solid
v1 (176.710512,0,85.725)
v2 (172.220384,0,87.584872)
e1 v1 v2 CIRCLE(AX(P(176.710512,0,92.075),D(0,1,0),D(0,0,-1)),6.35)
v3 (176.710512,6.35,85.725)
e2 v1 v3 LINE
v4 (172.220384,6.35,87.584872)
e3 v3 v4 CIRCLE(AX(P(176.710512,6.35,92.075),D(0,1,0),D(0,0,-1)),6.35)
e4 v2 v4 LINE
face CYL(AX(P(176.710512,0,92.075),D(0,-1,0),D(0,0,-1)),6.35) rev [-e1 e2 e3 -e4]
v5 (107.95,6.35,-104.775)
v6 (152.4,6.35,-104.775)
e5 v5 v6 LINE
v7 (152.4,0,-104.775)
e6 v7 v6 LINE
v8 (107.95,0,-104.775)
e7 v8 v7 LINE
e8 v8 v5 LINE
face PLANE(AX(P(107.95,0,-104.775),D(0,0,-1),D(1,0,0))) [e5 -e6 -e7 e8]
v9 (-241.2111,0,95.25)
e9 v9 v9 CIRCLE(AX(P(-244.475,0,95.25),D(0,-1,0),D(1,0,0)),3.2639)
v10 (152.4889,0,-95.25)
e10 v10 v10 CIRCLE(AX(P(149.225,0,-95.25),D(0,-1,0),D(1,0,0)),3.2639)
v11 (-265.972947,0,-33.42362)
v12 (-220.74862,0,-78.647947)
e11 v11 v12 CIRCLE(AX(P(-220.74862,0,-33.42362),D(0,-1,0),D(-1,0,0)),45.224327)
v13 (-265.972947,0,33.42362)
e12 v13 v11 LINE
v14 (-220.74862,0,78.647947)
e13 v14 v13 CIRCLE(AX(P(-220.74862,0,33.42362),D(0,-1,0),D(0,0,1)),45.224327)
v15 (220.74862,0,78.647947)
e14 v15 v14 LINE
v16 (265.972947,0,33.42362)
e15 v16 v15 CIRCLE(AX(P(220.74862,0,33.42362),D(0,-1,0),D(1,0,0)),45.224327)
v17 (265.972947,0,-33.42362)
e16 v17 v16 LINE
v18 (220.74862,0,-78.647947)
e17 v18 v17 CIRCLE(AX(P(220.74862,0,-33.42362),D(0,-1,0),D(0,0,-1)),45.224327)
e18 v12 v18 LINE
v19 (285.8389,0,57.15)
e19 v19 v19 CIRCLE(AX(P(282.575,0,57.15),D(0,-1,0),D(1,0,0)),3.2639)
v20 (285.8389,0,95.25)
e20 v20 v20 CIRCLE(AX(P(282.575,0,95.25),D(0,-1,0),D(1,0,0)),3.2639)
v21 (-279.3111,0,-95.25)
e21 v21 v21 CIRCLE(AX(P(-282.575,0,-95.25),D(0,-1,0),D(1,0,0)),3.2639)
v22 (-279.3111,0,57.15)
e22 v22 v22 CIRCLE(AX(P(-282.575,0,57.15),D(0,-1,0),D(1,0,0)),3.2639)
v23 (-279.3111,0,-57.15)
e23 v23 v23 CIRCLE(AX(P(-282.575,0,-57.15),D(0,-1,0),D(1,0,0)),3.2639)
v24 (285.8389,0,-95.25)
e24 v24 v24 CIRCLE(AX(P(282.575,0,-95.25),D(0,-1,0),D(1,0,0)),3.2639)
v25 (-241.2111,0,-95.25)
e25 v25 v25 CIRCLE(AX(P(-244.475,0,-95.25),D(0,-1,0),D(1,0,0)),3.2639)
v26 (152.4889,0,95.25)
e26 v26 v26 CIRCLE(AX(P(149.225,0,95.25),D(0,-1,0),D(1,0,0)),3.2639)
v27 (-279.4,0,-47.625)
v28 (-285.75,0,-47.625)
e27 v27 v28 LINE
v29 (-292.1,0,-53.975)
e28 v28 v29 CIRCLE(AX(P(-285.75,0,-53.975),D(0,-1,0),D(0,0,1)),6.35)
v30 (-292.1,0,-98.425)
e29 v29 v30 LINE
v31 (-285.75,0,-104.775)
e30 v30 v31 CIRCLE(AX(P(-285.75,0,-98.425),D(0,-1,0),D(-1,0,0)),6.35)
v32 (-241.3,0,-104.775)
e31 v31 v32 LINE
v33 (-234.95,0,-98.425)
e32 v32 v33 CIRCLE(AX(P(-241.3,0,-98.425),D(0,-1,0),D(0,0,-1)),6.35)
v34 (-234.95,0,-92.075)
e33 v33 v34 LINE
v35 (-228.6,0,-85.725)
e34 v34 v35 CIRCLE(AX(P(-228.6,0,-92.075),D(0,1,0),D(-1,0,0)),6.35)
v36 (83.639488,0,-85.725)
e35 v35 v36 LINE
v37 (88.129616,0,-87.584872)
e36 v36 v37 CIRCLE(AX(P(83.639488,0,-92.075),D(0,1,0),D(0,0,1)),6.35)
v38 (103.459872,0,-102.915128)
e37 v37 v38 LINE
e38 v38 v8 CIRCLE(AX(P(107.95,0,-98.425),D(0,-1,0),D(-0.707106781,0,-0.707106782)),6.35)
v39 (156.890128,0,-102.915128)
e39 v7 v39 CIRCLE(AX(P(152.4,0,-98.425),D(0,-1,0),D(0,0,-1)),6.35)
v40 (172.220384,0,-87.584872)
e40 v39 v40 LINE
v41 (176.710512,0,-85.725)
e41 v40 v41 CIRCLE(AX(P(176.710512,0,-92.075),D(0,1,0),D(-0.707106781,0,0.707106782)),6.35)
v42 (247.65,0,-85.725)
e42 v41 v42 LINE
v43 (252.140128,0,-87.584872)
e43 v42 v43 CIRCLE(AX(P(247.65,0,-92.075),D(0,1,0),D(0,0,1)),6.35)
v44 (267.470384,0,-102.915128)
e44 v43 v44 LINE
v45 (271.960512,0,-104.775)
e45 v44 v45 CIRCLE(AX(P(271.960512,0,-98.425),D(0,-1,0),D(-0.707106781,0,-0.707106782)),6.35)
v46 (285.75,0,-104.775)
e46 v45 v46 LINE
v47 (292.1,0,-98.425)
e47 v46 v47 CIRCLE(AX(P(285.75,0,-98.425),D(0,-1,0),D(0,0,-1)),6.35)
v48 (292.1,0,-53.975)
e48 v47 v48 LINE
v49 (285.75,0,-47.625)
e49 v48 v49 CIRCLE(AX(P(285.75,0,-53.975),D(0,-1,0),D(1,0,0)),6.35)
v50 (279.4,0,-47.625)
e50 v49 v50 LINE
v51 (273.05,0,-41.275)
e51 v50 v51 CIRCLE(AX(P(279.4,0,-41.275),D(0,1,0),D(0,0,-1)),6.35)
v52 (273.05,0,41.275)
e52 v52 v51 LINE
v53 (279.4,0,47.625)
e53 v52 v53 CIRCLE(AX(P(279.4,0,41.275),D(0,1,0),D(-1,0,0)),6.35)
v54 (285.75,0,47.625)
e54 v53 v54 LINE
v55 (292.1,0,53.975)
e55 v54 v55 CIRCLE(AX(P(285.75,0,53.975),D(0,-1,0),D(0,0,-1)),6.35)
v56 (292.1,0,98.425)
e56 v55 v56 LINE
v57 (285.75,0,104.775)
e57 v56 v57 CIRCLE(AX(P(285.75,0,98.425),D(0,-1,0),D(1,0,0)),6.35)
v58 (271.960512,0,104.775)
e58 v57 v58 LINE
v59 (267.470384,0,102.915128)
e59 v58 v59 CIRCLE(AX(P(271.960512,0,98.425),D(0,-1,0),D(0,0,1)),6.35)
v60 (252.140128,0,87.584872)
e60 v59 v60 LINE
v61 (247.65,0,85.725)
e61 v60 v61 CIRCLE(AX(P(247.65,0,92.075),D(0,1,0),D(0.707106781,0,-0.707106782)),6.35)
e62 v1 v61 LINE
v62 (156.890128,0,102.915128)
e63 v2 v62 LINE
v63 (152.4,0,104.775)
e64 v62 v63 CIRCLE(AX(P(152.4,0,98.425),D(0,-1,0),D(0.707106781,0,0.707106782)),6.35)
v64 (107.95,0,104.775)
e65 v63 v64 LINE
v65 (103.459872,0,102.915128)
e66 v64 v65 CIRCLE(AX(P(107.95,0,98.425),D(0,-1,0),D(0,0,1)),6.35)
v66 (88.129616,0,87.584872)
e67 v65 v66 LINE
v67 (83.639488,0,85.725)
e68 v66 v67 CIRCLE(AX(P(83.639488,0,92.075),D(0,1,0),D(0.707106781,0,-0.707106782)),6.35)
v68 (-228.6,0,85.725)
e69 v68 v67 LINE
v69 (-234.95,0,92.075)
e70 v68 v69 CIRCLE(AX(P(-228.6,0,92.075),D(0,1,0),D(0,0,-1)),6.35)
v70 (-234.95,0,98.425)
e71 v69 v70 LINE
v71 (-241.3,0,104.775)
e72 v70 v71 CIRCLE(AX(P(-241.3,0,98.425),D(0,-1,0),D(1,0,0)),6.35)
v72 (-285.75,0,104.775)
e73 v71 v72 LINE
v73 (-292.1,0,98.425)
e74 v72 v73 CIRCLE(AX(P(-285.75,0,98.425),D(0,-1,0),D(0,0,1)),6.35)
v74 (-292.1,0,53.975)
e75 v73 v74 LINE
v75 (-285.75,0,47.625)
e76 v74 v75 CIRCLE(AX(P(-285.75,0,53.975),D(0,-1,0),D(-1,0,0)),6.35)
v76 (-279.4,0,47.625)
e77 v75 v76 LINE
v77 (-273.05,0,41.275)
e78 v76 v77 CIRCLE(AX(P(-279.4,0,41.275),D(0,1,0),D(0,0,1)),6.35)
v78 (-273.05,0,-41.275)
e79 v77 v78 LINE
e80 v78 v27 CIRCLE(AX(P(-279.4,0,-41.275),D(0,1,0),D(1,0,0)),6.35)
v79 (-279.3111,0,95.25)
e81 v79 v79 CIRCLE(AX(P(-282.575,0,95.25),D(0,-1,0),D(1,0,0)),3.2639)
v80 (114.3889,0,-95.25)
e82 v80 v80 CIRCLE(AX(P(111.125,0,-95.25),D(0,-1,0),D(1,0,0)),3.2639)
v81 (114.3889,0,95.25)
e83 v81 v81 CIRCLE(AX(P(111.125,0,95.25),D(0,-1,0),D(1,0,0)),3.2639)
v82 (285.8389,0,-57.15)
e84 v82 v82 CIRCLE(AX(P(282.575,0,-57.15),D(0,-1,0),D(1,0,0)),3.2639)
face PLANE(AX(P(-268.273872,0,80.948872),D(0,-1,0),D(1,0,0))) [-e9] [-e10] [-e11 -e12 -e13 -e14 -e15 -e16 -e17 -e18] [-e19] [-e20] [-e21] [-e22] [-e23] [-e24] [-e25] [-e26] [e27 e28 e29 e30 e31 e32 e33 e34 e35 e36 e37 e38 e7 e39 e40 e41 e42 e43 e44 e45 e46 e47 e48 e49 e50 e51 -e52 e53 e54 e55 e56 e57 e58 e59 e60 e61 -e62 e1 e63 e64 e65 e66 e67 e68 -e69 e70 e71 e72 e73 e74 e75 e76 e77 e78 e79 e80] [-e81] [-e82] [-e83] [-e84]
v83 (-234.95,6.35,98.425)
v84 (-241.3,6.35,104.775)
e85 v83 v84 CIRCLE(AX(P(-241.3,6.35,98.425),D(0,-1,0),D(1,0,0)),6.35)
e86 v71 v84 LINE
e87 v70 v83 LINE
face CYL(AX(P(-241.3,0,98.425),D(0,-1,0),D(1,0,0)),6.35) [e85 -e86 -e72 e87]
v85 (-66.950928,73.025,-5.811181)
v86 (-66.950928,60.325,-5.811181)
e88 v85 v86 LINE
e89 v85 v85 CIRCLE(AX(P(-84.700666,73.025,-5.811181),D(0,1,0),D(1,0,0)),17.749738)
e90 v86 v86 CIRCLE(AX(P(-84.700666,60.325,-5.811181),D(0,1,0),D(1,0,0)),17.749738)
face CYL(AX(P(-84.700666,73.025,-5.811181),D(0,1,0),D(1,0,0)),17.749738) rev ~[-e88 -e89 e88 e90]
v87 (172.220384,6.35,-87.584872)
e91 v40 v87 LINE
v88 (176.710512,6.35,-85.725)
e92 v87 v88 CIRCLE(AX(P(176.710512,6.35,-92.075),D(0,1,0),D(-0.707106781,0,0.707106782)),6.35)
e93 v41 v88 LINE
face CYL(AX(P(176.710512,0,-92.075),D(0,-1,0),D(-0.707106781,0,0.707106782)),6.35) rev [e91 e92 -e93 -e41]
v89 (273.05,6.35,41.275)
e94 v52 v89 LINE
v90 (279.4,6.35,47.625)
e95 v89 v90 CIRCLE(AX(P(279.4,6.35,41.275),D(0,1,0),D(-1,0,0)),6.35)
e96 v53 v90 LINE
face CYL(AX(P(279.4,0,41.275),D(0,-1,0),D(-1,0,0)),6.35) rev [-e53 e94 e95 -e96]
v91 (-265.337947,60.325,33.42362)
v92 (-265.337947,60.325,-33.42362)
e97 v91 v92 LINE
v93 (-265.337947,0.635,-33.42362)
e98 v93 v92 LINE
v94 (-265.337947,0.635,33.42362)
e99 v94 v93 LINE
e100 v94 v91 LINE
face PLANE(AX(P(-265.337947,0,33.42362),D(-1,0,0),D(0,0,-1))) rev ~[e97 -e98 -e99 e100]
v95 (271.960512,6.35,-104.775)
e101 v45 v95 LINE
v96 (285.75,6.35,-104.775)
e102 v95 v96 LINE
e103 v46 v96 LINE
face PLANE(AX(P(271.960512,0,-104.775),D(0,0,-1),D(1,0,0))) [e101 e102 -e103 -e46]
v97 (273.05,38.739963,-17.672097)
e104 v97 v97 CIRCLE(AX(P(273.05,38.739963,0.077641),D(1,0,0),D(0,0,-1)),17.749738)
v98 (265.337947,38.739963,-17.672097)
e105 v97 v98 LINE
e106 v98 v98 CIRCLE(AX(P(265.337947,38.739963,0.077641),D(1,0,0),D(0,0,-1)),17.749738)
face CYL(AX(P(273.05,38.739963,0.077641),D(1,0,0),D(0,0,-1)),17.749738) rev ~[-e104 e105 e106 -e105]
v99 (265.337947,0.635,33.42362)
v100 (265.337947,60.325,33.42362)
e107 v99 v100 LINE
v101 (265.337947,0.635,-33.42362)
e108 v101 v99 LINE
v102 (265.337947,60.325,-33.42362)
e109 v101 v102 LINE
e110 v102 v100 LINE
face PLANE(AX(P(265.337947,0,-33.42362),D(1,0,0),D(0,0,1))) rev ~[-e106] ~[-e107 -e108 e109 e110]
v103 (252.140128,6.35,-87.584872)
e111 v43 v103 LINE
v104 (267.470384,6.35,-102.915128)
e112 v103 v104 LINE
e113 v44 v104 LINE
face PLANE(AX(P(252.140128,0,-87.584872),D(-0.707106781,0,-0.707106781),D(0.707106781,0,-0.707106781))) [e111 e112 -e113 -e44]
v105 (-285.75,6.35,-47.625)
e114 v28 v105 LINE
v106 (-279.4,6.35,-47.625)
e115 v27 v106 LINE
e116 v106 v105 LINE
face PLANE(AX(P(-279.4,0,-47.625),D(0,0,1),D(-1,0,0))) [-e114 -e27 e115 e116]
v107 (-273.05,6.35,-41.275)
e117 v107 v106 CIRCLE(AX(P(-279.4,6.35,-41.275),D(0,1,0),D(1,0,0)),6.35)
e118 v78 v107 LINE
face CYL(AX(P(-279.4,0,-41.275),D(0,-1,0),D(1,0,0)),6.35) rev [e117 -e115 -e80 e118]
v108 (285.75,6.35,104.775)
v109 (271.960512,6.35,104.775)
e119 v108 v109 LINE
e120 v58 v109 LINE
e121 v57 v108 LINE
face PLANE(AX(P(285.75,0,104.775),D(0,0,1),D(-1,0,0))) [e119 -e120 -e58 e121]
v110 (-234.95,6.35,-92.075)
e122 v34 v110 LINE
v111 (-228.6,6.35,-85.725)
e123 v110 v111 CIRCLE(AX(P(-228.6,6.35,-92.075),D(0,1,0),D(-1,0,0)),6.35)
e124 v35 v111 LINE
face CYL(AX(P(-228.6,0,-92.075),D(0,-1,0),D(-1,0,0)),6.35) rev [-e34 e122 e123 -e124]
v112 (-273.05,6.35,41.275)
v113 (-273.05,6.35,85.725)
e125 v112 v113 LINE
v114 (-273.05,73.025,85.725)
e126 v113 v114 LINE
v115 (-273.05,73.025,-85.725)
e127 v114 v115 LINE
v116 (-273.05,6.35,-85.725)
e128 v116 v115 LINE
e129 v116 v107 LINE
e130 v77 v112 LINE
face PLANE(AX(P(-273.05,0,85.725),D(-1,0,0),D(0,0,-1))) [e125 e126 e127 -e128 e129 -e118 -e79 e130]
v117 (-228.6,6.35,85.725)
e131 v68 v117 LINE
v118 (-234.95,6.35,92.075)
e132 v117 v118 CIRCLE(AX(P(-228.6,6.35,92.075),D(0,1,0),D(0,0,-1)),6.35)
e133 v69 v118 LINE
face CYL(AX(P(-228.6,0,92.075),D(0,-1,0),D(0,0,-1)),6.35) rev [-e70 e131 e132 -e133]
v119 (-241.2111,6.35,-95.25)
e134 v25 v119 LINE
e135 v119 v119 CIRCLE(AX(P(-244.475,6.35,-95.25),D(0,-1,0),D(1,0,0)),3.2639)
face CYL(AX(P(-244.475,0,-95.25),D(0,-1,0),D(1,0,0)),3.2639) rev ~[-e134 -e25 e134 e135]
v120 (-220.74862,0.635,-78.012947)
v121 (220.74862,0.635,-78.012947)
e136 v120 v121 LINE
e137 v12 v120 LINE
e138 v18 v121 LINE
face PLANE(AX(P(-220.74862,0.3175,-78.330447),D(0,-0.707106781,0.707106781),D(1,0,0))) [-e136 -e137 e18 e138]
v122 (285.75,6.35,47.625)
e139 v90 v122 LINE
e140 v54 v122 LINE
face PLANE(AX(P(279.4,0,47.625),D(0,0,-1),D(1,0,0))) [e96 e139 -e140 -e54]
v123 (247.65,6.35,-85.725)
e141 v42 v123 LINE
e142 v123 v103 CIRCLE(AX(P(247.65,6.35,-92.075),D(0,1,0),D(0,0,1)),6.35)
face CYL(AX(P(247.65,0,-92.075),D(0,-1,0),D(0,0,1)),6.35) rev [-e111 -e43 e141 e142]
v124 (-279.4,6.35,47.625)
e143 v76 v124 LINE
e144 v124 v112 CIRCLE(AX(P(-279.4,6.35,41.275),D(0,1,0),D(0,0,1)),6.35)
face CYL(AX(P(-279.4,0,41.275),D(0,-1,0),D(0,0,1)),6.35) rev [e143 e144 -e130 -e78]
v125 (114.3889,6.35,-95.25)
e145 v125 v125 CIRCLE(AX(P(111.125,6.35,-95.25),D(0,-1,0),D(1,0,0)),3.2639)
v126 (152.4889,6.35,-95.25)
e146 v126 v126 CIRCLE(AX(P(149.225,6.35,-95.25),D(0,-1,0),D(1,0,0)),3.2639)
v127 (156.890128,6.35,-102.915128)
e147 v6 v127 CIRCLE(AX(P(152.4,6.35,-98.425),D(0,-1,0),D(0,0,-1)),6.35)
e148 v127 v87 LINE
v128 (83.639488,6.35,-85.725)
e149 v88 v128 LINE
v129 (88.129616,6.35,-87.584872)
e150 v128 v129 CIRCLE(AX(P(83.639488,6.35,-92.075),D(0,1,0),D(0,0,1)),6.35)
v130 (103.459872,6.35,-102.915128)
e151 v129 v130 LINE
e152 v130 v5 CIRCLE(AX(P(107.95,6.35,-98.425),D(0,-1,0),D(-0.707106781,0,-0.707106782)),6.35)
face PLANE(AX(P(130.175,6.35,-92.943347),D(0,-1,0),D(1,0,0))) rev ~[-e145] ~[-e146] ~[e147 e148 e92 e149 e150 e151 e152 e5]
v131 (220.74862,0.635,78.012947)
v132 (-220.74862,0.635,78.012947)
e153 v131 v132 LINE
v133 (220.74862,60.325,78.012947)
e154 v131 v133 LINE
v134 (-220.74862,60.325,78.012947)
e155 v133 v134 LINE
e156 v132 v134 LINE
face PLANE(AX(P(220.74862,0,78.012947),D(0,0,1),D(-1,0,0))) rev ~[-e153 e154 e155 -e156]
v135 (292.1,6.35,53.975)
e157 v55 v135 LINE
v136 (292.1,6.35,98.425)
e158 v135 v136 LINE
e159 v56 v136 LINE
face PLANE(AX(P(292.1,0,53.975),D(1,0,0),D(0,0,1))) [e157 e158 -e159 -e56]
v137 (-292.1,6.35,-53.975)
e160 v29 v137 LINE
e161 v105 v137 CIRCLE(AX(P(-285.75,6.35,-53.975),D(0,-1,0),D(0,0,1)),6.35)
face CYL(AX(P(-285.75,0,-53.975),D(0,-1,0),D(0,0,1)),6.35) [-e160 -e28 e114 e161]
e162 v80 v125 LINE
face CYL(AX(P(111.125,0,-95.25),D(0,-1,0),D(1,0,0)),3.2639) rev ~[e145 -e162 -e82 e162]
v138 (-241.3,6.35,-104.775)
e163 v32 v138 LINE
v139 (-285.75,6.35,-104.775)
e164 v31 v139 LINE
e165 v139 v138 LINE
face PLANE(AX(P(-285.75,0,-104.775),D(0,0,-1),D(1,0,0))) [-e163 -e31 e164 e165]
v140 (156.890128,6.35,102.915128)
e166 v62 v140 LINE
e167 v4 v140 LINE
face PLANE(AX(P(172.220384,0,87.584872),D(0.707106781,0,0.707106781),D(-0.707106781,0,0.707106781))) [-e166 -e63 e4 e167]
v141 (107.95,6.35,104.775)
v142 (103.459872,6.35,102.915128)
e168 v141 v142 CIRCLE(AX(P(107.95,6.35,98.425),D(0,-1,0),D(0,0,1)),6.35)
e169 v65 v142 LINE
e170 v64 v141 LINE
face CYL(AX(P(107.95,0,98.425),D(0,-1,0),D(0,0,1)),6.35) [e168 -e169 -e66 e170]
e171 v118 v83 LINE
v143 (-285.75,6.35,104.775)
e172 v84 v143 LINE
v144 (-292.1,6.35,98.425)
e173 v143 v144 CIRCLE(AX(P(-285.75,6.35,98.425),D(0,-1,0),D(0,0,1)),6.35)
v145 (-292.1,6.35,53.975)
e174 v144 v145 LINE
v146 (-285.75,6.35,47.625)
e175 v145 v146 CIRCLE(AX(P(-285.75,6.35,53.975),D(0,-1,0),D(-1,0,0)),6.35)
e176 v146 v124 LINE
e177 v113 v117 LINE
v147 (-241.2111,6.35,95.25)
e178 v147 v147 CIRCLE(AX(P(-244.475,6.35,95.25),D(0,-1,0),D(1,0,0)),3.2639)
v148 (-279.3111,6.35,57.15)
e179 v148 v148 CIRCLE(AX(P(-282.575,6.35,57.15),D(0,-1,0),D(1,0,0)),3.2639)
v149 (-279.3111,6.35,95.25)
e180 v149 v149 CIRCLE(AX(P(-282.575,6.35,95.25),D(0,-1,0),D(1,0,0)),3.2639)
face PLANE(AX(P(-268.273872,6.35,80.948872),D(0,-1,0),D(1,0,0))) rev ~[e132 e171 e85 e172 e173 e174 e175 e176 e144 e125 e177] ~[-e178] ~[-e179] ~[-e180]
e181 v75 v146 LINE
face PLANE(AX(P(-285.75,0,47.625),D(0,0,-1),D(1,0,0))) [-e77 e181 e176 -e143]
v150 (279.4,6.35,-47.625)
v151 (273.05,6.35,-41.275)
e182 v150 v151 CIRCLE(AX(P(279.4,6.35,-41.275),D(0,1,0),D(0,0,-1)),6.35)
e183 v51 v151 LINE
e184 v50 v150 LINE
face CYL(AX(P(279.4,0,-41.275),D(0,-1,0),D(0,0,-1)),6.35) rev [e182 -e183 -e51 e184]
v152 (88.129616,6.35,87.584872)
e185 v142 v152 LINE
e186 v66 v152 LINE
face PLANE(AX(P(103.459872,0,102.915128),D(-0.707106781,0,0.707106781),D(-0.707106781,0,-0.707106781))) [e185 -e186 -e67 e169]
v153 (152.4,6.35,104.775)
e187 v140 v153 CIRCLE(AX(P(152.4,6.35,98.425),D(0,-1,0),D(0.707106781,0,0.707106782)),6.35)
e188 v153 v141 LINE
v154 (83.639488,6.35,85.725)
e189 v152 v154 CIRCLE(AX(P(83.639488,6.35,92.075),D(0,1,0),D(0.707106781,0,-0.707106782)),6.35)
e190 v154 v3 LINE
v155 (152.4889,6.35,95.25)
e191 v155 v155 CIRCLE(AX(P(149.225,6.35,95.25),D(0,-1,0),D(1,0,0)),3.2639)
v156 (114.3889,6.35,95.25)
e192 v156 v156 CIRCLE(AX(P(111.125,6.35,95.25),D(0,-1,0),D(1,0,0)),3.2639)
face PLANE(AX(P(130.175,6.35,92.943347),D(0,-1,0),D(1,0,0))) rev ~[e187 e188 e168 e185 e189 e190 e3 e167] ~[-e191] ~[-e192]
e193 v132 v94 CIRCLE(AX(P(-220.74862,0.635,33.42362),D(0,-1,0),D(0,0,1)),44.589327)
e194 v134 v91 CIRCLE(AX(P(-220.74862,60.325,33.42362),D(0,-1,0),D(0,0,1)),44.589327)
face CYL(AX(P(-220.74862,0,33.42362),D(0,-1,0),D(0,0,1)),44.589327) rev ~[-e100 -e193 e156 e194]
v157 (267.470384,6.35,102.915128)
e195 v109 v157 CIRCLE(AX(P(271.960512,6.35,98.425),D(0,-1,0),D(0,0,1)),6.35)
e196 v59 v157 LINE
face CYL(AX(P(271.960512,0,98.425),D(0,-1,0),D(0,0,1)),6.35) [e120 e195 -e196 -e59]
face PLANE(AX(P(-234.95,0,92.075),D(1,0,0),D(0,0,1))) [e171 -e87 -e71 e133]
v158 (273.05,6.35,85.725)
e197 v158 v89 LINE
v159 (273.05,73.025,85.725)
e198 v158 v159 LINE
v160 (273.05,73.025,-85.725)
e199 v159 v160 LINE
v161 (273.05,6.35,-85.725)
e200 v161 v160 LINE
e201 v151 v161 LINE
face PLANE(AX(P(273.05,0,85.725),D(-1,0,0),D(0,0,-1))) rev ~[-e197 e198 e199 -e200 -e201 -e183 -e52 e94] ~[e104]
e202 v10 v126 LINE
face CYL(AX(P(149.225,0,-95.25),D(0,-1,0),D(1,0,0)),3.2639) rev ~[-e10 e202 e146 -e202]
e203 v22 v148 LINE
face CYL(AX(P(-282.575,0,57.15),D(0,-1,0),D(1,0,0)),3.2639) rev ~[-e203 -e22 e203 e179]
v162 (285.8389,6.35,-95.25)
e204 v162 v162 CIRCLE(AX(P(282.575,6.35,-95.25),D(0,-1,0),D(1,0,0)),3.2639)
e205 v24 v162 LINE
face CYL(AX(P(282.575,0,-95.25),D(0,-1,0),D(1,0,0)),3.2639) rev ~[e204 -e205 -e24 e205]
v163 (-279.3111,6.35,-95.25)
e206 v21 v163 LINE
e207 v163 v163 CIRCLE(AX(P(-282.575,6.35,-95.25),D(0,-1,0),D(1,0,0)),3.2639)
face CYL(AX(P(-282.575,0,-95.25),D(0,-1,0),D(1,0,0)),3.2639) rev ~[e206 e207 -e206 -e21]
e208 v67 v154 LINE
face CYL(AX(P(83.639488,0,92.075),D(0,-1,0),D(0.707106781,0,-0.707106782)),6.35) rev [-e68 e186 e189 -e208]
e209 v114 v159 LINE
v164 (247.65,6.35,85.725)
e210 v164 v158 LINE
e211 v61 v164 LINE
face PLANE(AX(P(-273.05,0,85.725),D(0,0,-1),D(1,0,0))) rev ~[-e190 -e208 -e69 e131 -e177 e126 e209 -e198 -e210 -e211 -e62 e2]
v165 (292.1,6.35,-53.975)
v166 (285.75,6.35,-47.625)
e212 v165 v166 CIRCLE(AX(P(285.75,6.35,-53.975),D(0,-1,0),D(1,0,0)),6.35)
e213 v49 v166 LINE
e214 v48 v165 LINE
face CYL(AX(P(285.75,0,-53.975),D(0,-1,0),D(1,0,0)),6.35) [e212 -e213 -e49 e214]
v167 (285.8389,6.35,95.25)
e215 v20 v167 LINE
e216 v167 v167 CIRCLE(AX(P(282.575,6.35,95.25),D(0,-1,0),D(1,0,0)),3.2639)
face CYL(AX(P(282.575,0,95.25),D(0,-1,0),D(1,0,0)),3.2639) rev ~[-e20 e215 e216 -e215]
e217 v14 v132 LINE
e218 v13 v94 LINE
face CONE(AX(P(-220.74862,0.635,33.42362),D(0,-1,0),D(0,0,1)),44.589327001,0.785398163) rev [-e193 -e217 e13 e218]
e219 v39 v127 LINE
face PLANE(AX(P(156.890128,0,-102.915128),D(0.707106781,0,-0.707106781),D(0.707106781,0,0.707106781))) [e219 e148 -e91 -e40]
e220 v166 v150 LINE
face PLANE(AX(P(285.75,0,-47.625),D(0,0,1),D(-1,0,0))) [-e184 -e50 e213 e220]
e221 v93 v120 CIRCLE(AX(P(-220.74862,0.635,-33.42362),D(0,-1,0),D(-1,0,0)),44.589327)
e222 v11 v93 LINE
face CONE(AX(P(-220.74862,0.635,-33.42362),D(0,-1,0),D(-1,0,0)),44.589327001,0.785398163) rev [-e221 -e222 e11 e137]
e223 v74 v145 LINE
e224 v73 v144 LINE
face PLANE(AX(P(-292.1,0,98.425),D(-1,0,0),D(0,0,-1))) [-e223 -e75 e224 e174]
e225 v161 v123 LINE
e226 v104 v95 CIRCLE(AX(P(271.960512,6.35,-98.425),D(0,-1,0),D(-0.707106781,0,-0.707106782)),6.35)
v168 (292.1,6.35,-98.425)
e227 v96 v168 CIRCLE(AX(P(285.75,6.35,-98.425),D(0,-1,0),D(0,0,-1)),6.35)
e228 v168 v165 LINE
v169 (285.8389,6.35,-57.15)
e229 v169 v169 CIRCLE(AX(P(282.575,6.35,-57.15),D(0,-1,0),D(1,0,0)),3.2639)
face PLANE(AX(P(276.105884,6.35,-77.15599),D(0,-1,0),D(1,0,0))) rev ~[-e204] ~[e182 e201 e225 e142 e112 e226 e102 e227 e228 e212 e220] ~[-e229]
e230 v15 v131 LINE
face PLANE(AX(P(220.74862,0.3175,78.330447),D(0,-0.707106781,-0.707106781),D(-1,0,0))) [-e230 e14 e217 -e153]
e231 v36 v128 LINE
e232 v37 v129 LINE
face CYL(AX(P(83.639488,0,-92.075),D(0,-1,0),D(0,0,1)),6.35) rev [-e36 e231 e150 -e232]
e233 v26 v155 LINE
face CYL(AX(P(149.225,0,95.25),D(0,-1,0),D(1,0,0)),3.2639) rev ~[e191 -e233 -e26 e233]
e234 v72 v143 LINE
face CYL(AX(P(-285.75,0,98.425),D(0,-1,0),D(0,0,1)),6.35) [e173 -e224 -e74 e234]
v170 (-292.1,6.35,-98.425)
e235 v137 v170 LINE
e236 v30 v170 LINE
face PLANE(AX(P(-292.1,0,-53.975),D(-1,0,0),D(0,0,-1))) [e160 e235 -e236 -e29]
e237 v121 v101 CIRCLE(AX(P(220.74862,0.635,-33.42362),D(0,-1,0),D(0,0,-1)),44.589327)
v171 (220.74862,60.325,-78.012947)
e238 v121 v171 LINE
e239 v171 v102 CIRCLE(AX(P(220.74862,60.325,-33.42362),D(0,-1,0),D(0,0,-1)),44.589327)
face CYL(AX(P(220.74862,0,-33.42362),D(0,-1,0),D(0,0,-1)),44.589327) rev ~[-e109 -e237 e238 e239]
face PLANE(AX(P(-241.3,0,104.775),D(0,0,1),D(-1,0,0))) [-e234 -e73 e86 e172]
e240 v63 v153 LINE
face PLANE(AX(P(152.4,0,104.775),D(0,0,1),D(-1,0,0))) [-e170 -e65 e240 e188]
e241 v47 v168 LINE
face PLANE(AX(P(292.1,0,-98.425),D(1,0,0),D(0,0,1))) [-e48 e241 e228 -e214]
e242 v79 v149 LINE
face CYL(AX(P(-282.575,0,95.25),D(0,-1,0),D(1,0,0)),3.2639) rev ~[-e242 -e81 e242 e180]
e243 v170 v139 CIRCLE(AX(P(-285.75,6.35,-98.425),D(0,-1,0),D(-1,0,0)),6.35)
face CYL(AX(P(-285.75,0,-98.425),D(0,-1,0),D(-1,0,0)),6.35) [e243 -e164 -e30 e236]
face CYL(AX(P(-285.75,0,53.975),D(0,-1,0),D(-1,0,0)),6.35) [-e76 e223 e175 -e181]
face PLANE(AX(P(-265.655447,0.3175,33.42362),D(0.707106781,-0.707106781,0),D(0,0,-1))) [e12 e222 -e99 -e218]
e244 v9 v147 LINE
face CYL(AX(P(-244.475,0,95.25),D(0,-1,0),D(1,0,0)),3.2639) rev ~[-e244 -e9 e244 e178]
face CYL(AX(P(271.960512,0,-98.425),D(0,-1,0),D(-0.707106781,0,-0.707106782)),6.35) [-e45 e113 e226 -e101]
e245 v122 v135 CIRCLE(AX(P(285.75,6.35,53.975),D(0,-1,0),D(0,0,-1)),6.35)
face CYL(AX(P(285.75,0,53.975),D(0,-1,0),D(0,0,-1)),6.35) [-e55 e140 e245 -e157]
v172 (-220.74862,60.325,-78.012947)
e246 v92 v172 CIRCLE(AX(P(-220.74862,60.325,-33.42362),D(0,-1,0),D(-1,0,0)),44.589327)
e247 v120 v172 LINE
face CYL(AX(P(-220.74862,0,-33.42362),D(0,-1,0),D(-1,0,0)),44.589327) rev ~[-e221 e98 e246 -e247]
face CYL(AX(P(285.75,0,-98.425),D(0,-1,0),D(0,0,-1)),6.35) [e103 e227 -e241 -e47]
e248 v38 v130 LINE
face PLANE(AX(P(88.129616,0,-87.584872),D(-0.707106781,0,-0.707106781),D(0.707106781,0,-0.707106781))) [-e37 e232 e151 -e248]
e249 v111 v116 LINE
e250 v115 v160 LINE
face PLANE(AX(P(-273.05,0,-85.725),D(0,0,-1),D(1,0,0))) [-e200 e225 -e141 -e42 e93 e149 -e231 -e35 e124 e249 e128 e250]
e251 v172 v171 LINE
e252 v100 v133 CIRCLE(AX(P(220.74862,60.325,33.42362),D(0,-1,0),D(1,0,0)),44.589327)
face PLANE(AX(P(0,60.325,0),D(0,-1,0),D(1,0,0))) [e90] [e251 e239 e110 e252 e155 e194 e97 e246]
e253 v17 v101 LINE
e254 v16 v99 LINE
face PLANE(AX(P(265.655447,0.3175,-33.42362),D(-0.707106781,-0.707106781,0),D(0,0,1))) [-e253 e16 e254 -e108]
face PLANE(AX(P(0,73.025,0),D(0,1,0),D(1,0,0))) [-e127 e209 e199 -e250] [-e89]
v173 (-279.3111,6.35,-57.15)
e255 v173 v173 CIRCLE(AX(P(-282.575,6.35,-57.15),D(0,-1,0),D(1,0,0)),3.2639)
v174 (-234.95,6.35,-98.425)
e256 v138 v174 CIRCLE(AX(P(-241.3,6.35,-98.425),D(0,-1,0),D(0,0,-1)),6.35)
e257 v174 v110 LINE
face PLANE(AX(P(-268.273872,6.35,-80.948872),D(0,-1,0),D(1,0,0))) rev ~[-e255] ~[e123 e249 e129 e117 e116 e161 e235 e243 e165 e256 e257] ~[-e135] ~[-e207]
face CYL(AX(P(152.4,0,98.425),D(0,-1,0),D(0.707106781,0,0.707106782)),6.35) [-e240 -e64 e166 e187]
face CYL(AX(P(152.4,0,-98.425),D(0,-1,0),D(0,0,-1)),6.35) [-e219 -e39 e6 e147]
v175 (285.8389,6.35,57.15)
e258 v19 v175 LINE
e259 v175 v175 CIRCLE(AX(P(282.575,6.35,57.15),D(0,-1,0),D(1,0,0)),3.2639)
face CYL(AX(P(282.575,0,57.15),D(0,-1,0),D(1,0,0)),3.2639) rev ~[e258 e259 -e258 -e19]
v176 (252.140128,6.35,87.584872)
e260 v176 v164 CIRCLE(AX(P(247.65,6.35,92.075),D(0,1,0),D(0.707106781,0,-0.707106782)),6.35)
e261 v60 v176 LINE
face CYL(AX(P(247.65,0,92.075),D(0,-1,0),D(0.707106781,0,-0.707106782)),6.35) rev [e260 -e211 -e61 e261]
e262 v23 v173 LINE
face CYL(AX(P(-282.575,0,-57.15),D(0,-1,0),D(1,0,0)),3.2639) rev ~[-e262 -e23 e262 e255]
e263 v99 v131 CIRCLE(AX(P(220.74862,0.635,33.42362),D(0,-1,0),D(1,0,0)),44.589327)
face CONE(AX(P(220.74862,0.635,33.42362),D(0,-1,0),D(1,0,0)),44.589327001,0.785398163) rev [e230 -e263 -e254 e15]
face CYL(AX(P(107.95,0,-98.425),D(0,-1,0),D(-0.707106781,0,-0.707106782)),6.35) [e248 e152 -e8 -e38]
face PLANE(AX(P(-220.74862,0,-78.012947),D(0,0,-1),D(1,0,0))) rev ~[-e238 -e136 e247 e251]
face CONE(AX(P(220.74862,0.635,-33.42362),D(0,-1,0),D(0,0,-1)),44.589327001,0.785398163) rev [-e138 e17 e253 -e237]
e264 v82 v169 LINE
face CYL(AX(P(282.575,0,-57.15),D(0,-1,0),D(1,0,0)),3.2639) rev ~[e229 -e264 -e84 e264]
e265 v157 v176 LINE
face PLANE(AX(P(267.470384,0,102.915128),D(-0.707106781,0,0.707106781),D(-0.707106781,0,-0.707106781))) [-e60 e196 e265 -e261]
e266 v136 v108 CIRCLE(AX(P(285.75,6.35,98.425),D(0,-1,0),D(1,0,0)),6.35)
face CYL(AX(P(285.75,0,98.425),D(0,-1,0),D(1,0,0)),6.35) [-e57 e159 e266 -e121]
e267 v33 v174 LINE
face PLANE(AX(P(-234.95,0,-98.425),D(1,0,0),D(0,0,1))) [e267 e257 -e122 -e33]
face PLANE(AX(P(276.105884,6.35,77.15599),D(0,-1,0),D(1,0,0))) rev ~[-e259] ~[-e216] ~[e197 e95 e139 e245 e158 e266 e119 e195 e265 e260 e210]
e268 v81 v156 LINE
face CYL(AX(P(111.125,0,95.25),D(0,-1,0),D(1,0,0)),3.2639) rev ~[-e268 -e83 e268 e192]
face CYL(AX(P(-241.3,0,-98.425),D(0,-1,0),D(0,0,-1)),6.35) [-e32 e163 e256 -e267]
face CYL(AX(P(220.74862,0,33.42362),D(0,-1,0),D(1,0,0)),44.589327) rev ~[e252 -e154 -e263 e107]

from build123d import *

# Parameters (mm, degrees)
SKETCH1_W           = 546.1
SKETCH1_H           = 171.45
BOSS_EXTRUDE1_DEPTH = 73.025
CUT_EXTRUDE1_DEPTH  = 60.325
CUT_EXTRUDE2_REACH  = 75.025
SKETCH5_R           = 17.749738032
CUT_EXTRUDE3_REACH  = 548.1
SKETCH6_R           = 17.749738032
CHAMFER1_SIZE       = 0.635
SKETCH7_R           = 3.2639
BOSS_EXTRUDE4_DEPTH = 6.35


with BuildPart() as part:
    # Sketch1 → Boss-Extrude1 (new body)
    with BuildSketch(Plane(origin=(0, 0, 0), x_dir=(1, 0, 0), z_dir=(0, 1, 0))):
        Rectangle(SKETCH1_W, SKETCH1_H)
    extrude(amount=BOSS_EXTRUDE1_DEPTH)

    # Sketch2 → Cut-Extrude1 (cut)
    with BuildSketch(Plane.XZ):
        with BuildLine():
            Line((220.748619551, 78.012946552), (-220.748619551, 78.012946552))
            ThreePointArc((-220.748619551, 78.012946552), (-252.278035042, 64.953035042), (-265.337946552, 33.423619551))
            Line((-265.337946552, 33.423619551), (-265.337946552, -33.423619551))
            ThreePointArc((-265.337946552, -33.423619551), (-252.278035042, -64.953035042), (-220.748619551, -78.012946552))
            Line((-220.748619551, -78.012946552), (220.748619551, -78.012946552))
            ThreePointArc((220.748619551, -78.012946552), (252.278035042, -64.953035042), (265.337946552, -33.423619551))
            Line((265.337946552, -33.423619551), (265.337946552, 33.423619551))
            ThreePointArc((265.337946552, 33.423619551), (252.278035042, 64.953035042), (220.748619551, 78.012946552))
        make_face()
    extrude(amount=-CUT_EXTRUDE1_DEPTH, mode=Mode.SUBTRACT)

    # Sketch5 → Cut-Extrude2 (cut, up to next)
    with BuildSketch(Plane(origin=(0, 73.025, 0), x_dir=(1, 0, 0), z_dir=(0, 1, 0)), mode=Mode.PRIVATE) as cut_extrude2_sk1:
        with Locations((-84.700666343, 5.811180929)):
            Circle(SKETCH5_R)
    cut_extrude2_tool1 = extrude(cut_extrude2_sk1.sketch, amount=-CUT_EXTRUDE2_REACH, mode=Mode.PRIVATE) & part.part
    add(cut_extrude2_tool1.solids().sort_by_distance((-84.700666, 73.025, -5.811181))[0], mode=Mode.SUBTRACT)

    # Sketch6 → Cut-Extrude3 (cut, up to next)
    with BuildSketch(Plane(origin=(273.05, 0, 0), x_dir=(0, 0, -1), z_dir=(1, 0, 0)), mode=Mode.PRIVATE) as cut_extrude3_sk1:
        with Locations((-0.077641224, 38.739963406)):
            Circle(SKETCH6_R)
    cut_extrude3_tool1 = extrude(cut_extrude3_sk1.sketch, amount=-CUT_EXTRUDE3_REACH, mode=Mode.PRIVATE) & part.part
    add(cut_extrude3_tool1.solids().sort_by_distance((273.05, 38.739963, 0.077641))[0], mode=Mode.SUBTRACT)

    # Chamfer1
    chamfer1_edges = [part.edges().sort_by_distance(p)[0] for p in [
        (252.278035042, 0, 64.953035042),
        (252.278035042, 0, -64.953035042),
        (-252.278035042, 0, -64.953035042),
        (0, 0, 78.012946552),
        (-252.278035042, 0, 64.953035042),
        (-265.337946552, 0, 0),
        (0, 0, -78.012946552),
        (265.337946552, 0, 0),
    ]]
    chamfer(chamfer1_edges, length=CHAMFER1_SIZE)

    # Sketch7 → Boss-Extrude4 (add)
    with BuildSketch(Plane.XZ):
        with BuildLine():
            ThreePointArc((-279.4, 47.625), (-274.909871939, 45.765128061), (-273.05, 41.275))
            Line((-273.05, 41.275), (-273.05, 85.725))
            Line((-273.05, 85.725), (-228.6, 85.725))
            ThreePointArc((-228.6, 85.725), (-233.090128061, 87.584871939), (-234.95, 92.075))
            Line((-234.95, 92.075), (-234.95, 98.425))
            ThreePointArc((-234.95, 98.425), (-236.809871939, 102.915128061), (-241.3, 104.775))
            Line((-241.3, 104.775), (-285.75, 104.775))
            ThreePointArc((-285.75, 104.775), (-290.240128061, 102.915128061), (-292.1, 98.425))
            Line((-292.1, 98.425), (-292.1, 53.975))
            ThreePointArc((-292.1, 53.975), (-290.240128061, 49.484871939), (-285.75, 47.625))
            Line((-285.75, 47.625), (-279.4, 47.625))
        make_face()
        with Locations((-282.575, 57.15)):
            Circle(SKETCH7_R, mode=Mode.SUBTRACT)
        with Locations((-282.575, 95.25)):
            Circle(SKETCH7_R, mode=Mode.SUBTRACT)
        with Locations((-244.475, 95.25)):
            Circle(SKETCH7_R, mode=Mode.SUBTRACT)
        with BuildLine():
            ThreePointArc((88.129615818, 87.584871939), (86.069527553, 86.208364969), (83.639487758, 85.725))
            Line((83.639487758, 85.725), (176.710512242, 85.725))
            ThreePointArc((176.710512242, 85.725), (174.280472447, 86.208364969), (172.220384182, 87.584871939))
            Line((172.220384182, 87.584871939), (156.890128061, 102.915128061))
            ThreePointArc((156.890128061, 102.915128061), (154.830039796, 104.291635031), (152.4, 104.775))
            Line((152.4, 104.775), (107.95, 104.775))
            ThreePointArc((107.95, 104.775), (105.519960204, 104.291635031), (103.459871939, 102.915128061))
            Line((103.459871939, 102.915128061), (88.129615818, 87.584871939))
        make_face()
        with Locations((111.125, 95.25)):
            Circle(SKETCH7_R, mode=Mode.SUBTRACT)
        with Locations((149.225, 95.25)):
            Circle(SKETCH7_R, mode=Mode.SUBTRACT)
        with BuildLine():
            ThreePointArc((252.140128061, 87.584871939), (250.080039796, 86.208364969), (247.65, 85.725))
            Line((247.65, 85.725), (273.05, 85.725))
            Line((273.05, 85.725), (273.05, 41.275))
            ThreePointArc((273.05, 41.275), (274.909871939, 45.765128061), (279.4, 47.625))
            Line((279.4, 47.625), (285.75, 47.625))
            ThreePointArc((285.75, 47.625), (290.240128061, 49.484871939), (292.1, 53.975))
            Line((292.1, 53.975), (292.1, 98.425))
            ThreePointArc((292.1, 98.425), (290.240128061, 102.915128061), (285.75, 104.775))
            Line((285.75, 104.775), (271.960512242, 104.775))
            ThreePointArc((271.960512242, 104.775), (269.530472447, 104.291635031), (267.470384182, 102.915128061))
            Line((267.470384182, 102.915128061), (252.140128061, 87.584871939))
        make_face()
        with Locations((282.575, 57.15)):
            Circle(SKETCH7_R, mode=Mode.SUBTRACT)
        with Locations((282.575, 95.25)):
            Circle(SKETCH7_R, mode=Mode.SUBTRACT)
        with BuildLine():
            Line((273.05, -85.725), (247.65, -85.725))
            ThreePointArc((247.65, -85.725), (250.080039796, -86.208364969), (252.140128061, -87.584871939))
            Line((252.140128061, -87.584871939), (267.470384182, -102.915128061))
            ThreePointArc((267.470384182, -102.915128061), (269.530472447, -104.291635031), (271.960512242, -104.775))
            Line((271.960512242, -104.775), (285.75, -104.775))
            ThreePointArc((285.75, -104.775), (290.240128061, -102.915128061), (292.1, -98.425))
            Line((292.1, -98.425), (292.1, -53.975))
            ThreePointArc((292.1, -53.975), (290.240128061, -49.484871939), (285.75, -47.625))
            Line((285.75, -47.625), (279.4, -47.625))
            ThreePointArc((279.4, -47.625), (274.909871939, -45.765128061), (273.05, -41.275))
            Line((273.05, -41.275), (273.05, -85.725))
        make_face()
        with Locations((282.575, -95.25)):
            Circle(SKETCH7_R, mode=Mode.SUBTRACT)
        with Locations((282.575, -57.15)):
            Circle(SKETCH7_R, mode=Mode.SUBTRACT)
        with BuildLine():
            Line((176.710512242, -85.725), (83.639487758, -85.725))
            ThreePointArc((83.639487758, -85.725), (86.069527553, -86.208364969), (88.129615818, -87.584871939))
            Line((88.129615818, -87.584871939), (103.459871939, -102.915128061))
            ThreePointArc((103.459871939, -102.915128061), (105.519960204, -104.291635031), (107.95, -104.775))
            Line((107.95, -104.775), (152.4, -104.775))
            ThreePointArc((152.4, -104.775), (154.830039796, -104.291635031), (156.890128061, -102.915128061))
            Line((156.890128061, -102.915128061), (172.220384182, -87.584871939))
            ThreePointArc((172.220384182, -87.584871939), (174.280472447, -86.208364969), (176.710512242, -85.725))
        make_face()
        with Locations((111.125, -95.25)):
            Circle(SKETCH7_R, mode=Mode.SUBTRACT)
        with Locations((149.225, -95.25)):
            Circle(SKETCH7_R, mode=Mode.SUBTRACT)
        with BuildLine():
            Line((-228.6, -85.725), (-273.05, -85.725))
            Line((-273.05, -85.725), (-273.05, -41.275))
            ThreePointArc((-273.05, -41.275), (-274.909871939, -45.765128061), (-279.4, -47.625))
            Line((-279.4, -47.625), (-285.75, -47.625))
            ThreePointArc((-285.75, -47.625), (-290.240128061, -49.484871939), (-292.1, -53.975))
            Line((-292.1, -53.975), (-292.1, -98.425))
            ThreePointArc((-292.1, -98.425), (-290.240128061, -102.915128061), (-285.75, -104.775))
            Line((-285.75, -104.775), (-241.3, -104.775))
            ThreePointArc((-241.3, -104.775), (-236.809871939, -102.915128061), (-234.95, -98.425))
            Line((-234.95, -98.425), (-234.95, -92.075))
            ThreePointArc((-234.95, -92.075), (-233.090128061, -87.584871939), (-228.6, -85.725))
        make_face()
        with Locations((-282.575, -95.25)):
            Circle(SKETCH7_R, mode=Mode.SUBTRACT)
        with Locations((-244.475, -95.25)):
            Circle(SKETCH7_R, mode=Mode.SUBTRACT)
        with Locations((-282.575, -57.15)):
            Circle(SKETCH7_R, mode=Mode.SUBTRACT)
    extrude(amount=-BOSS_EXTRUDE4_DEPTH)


solid = part.part
